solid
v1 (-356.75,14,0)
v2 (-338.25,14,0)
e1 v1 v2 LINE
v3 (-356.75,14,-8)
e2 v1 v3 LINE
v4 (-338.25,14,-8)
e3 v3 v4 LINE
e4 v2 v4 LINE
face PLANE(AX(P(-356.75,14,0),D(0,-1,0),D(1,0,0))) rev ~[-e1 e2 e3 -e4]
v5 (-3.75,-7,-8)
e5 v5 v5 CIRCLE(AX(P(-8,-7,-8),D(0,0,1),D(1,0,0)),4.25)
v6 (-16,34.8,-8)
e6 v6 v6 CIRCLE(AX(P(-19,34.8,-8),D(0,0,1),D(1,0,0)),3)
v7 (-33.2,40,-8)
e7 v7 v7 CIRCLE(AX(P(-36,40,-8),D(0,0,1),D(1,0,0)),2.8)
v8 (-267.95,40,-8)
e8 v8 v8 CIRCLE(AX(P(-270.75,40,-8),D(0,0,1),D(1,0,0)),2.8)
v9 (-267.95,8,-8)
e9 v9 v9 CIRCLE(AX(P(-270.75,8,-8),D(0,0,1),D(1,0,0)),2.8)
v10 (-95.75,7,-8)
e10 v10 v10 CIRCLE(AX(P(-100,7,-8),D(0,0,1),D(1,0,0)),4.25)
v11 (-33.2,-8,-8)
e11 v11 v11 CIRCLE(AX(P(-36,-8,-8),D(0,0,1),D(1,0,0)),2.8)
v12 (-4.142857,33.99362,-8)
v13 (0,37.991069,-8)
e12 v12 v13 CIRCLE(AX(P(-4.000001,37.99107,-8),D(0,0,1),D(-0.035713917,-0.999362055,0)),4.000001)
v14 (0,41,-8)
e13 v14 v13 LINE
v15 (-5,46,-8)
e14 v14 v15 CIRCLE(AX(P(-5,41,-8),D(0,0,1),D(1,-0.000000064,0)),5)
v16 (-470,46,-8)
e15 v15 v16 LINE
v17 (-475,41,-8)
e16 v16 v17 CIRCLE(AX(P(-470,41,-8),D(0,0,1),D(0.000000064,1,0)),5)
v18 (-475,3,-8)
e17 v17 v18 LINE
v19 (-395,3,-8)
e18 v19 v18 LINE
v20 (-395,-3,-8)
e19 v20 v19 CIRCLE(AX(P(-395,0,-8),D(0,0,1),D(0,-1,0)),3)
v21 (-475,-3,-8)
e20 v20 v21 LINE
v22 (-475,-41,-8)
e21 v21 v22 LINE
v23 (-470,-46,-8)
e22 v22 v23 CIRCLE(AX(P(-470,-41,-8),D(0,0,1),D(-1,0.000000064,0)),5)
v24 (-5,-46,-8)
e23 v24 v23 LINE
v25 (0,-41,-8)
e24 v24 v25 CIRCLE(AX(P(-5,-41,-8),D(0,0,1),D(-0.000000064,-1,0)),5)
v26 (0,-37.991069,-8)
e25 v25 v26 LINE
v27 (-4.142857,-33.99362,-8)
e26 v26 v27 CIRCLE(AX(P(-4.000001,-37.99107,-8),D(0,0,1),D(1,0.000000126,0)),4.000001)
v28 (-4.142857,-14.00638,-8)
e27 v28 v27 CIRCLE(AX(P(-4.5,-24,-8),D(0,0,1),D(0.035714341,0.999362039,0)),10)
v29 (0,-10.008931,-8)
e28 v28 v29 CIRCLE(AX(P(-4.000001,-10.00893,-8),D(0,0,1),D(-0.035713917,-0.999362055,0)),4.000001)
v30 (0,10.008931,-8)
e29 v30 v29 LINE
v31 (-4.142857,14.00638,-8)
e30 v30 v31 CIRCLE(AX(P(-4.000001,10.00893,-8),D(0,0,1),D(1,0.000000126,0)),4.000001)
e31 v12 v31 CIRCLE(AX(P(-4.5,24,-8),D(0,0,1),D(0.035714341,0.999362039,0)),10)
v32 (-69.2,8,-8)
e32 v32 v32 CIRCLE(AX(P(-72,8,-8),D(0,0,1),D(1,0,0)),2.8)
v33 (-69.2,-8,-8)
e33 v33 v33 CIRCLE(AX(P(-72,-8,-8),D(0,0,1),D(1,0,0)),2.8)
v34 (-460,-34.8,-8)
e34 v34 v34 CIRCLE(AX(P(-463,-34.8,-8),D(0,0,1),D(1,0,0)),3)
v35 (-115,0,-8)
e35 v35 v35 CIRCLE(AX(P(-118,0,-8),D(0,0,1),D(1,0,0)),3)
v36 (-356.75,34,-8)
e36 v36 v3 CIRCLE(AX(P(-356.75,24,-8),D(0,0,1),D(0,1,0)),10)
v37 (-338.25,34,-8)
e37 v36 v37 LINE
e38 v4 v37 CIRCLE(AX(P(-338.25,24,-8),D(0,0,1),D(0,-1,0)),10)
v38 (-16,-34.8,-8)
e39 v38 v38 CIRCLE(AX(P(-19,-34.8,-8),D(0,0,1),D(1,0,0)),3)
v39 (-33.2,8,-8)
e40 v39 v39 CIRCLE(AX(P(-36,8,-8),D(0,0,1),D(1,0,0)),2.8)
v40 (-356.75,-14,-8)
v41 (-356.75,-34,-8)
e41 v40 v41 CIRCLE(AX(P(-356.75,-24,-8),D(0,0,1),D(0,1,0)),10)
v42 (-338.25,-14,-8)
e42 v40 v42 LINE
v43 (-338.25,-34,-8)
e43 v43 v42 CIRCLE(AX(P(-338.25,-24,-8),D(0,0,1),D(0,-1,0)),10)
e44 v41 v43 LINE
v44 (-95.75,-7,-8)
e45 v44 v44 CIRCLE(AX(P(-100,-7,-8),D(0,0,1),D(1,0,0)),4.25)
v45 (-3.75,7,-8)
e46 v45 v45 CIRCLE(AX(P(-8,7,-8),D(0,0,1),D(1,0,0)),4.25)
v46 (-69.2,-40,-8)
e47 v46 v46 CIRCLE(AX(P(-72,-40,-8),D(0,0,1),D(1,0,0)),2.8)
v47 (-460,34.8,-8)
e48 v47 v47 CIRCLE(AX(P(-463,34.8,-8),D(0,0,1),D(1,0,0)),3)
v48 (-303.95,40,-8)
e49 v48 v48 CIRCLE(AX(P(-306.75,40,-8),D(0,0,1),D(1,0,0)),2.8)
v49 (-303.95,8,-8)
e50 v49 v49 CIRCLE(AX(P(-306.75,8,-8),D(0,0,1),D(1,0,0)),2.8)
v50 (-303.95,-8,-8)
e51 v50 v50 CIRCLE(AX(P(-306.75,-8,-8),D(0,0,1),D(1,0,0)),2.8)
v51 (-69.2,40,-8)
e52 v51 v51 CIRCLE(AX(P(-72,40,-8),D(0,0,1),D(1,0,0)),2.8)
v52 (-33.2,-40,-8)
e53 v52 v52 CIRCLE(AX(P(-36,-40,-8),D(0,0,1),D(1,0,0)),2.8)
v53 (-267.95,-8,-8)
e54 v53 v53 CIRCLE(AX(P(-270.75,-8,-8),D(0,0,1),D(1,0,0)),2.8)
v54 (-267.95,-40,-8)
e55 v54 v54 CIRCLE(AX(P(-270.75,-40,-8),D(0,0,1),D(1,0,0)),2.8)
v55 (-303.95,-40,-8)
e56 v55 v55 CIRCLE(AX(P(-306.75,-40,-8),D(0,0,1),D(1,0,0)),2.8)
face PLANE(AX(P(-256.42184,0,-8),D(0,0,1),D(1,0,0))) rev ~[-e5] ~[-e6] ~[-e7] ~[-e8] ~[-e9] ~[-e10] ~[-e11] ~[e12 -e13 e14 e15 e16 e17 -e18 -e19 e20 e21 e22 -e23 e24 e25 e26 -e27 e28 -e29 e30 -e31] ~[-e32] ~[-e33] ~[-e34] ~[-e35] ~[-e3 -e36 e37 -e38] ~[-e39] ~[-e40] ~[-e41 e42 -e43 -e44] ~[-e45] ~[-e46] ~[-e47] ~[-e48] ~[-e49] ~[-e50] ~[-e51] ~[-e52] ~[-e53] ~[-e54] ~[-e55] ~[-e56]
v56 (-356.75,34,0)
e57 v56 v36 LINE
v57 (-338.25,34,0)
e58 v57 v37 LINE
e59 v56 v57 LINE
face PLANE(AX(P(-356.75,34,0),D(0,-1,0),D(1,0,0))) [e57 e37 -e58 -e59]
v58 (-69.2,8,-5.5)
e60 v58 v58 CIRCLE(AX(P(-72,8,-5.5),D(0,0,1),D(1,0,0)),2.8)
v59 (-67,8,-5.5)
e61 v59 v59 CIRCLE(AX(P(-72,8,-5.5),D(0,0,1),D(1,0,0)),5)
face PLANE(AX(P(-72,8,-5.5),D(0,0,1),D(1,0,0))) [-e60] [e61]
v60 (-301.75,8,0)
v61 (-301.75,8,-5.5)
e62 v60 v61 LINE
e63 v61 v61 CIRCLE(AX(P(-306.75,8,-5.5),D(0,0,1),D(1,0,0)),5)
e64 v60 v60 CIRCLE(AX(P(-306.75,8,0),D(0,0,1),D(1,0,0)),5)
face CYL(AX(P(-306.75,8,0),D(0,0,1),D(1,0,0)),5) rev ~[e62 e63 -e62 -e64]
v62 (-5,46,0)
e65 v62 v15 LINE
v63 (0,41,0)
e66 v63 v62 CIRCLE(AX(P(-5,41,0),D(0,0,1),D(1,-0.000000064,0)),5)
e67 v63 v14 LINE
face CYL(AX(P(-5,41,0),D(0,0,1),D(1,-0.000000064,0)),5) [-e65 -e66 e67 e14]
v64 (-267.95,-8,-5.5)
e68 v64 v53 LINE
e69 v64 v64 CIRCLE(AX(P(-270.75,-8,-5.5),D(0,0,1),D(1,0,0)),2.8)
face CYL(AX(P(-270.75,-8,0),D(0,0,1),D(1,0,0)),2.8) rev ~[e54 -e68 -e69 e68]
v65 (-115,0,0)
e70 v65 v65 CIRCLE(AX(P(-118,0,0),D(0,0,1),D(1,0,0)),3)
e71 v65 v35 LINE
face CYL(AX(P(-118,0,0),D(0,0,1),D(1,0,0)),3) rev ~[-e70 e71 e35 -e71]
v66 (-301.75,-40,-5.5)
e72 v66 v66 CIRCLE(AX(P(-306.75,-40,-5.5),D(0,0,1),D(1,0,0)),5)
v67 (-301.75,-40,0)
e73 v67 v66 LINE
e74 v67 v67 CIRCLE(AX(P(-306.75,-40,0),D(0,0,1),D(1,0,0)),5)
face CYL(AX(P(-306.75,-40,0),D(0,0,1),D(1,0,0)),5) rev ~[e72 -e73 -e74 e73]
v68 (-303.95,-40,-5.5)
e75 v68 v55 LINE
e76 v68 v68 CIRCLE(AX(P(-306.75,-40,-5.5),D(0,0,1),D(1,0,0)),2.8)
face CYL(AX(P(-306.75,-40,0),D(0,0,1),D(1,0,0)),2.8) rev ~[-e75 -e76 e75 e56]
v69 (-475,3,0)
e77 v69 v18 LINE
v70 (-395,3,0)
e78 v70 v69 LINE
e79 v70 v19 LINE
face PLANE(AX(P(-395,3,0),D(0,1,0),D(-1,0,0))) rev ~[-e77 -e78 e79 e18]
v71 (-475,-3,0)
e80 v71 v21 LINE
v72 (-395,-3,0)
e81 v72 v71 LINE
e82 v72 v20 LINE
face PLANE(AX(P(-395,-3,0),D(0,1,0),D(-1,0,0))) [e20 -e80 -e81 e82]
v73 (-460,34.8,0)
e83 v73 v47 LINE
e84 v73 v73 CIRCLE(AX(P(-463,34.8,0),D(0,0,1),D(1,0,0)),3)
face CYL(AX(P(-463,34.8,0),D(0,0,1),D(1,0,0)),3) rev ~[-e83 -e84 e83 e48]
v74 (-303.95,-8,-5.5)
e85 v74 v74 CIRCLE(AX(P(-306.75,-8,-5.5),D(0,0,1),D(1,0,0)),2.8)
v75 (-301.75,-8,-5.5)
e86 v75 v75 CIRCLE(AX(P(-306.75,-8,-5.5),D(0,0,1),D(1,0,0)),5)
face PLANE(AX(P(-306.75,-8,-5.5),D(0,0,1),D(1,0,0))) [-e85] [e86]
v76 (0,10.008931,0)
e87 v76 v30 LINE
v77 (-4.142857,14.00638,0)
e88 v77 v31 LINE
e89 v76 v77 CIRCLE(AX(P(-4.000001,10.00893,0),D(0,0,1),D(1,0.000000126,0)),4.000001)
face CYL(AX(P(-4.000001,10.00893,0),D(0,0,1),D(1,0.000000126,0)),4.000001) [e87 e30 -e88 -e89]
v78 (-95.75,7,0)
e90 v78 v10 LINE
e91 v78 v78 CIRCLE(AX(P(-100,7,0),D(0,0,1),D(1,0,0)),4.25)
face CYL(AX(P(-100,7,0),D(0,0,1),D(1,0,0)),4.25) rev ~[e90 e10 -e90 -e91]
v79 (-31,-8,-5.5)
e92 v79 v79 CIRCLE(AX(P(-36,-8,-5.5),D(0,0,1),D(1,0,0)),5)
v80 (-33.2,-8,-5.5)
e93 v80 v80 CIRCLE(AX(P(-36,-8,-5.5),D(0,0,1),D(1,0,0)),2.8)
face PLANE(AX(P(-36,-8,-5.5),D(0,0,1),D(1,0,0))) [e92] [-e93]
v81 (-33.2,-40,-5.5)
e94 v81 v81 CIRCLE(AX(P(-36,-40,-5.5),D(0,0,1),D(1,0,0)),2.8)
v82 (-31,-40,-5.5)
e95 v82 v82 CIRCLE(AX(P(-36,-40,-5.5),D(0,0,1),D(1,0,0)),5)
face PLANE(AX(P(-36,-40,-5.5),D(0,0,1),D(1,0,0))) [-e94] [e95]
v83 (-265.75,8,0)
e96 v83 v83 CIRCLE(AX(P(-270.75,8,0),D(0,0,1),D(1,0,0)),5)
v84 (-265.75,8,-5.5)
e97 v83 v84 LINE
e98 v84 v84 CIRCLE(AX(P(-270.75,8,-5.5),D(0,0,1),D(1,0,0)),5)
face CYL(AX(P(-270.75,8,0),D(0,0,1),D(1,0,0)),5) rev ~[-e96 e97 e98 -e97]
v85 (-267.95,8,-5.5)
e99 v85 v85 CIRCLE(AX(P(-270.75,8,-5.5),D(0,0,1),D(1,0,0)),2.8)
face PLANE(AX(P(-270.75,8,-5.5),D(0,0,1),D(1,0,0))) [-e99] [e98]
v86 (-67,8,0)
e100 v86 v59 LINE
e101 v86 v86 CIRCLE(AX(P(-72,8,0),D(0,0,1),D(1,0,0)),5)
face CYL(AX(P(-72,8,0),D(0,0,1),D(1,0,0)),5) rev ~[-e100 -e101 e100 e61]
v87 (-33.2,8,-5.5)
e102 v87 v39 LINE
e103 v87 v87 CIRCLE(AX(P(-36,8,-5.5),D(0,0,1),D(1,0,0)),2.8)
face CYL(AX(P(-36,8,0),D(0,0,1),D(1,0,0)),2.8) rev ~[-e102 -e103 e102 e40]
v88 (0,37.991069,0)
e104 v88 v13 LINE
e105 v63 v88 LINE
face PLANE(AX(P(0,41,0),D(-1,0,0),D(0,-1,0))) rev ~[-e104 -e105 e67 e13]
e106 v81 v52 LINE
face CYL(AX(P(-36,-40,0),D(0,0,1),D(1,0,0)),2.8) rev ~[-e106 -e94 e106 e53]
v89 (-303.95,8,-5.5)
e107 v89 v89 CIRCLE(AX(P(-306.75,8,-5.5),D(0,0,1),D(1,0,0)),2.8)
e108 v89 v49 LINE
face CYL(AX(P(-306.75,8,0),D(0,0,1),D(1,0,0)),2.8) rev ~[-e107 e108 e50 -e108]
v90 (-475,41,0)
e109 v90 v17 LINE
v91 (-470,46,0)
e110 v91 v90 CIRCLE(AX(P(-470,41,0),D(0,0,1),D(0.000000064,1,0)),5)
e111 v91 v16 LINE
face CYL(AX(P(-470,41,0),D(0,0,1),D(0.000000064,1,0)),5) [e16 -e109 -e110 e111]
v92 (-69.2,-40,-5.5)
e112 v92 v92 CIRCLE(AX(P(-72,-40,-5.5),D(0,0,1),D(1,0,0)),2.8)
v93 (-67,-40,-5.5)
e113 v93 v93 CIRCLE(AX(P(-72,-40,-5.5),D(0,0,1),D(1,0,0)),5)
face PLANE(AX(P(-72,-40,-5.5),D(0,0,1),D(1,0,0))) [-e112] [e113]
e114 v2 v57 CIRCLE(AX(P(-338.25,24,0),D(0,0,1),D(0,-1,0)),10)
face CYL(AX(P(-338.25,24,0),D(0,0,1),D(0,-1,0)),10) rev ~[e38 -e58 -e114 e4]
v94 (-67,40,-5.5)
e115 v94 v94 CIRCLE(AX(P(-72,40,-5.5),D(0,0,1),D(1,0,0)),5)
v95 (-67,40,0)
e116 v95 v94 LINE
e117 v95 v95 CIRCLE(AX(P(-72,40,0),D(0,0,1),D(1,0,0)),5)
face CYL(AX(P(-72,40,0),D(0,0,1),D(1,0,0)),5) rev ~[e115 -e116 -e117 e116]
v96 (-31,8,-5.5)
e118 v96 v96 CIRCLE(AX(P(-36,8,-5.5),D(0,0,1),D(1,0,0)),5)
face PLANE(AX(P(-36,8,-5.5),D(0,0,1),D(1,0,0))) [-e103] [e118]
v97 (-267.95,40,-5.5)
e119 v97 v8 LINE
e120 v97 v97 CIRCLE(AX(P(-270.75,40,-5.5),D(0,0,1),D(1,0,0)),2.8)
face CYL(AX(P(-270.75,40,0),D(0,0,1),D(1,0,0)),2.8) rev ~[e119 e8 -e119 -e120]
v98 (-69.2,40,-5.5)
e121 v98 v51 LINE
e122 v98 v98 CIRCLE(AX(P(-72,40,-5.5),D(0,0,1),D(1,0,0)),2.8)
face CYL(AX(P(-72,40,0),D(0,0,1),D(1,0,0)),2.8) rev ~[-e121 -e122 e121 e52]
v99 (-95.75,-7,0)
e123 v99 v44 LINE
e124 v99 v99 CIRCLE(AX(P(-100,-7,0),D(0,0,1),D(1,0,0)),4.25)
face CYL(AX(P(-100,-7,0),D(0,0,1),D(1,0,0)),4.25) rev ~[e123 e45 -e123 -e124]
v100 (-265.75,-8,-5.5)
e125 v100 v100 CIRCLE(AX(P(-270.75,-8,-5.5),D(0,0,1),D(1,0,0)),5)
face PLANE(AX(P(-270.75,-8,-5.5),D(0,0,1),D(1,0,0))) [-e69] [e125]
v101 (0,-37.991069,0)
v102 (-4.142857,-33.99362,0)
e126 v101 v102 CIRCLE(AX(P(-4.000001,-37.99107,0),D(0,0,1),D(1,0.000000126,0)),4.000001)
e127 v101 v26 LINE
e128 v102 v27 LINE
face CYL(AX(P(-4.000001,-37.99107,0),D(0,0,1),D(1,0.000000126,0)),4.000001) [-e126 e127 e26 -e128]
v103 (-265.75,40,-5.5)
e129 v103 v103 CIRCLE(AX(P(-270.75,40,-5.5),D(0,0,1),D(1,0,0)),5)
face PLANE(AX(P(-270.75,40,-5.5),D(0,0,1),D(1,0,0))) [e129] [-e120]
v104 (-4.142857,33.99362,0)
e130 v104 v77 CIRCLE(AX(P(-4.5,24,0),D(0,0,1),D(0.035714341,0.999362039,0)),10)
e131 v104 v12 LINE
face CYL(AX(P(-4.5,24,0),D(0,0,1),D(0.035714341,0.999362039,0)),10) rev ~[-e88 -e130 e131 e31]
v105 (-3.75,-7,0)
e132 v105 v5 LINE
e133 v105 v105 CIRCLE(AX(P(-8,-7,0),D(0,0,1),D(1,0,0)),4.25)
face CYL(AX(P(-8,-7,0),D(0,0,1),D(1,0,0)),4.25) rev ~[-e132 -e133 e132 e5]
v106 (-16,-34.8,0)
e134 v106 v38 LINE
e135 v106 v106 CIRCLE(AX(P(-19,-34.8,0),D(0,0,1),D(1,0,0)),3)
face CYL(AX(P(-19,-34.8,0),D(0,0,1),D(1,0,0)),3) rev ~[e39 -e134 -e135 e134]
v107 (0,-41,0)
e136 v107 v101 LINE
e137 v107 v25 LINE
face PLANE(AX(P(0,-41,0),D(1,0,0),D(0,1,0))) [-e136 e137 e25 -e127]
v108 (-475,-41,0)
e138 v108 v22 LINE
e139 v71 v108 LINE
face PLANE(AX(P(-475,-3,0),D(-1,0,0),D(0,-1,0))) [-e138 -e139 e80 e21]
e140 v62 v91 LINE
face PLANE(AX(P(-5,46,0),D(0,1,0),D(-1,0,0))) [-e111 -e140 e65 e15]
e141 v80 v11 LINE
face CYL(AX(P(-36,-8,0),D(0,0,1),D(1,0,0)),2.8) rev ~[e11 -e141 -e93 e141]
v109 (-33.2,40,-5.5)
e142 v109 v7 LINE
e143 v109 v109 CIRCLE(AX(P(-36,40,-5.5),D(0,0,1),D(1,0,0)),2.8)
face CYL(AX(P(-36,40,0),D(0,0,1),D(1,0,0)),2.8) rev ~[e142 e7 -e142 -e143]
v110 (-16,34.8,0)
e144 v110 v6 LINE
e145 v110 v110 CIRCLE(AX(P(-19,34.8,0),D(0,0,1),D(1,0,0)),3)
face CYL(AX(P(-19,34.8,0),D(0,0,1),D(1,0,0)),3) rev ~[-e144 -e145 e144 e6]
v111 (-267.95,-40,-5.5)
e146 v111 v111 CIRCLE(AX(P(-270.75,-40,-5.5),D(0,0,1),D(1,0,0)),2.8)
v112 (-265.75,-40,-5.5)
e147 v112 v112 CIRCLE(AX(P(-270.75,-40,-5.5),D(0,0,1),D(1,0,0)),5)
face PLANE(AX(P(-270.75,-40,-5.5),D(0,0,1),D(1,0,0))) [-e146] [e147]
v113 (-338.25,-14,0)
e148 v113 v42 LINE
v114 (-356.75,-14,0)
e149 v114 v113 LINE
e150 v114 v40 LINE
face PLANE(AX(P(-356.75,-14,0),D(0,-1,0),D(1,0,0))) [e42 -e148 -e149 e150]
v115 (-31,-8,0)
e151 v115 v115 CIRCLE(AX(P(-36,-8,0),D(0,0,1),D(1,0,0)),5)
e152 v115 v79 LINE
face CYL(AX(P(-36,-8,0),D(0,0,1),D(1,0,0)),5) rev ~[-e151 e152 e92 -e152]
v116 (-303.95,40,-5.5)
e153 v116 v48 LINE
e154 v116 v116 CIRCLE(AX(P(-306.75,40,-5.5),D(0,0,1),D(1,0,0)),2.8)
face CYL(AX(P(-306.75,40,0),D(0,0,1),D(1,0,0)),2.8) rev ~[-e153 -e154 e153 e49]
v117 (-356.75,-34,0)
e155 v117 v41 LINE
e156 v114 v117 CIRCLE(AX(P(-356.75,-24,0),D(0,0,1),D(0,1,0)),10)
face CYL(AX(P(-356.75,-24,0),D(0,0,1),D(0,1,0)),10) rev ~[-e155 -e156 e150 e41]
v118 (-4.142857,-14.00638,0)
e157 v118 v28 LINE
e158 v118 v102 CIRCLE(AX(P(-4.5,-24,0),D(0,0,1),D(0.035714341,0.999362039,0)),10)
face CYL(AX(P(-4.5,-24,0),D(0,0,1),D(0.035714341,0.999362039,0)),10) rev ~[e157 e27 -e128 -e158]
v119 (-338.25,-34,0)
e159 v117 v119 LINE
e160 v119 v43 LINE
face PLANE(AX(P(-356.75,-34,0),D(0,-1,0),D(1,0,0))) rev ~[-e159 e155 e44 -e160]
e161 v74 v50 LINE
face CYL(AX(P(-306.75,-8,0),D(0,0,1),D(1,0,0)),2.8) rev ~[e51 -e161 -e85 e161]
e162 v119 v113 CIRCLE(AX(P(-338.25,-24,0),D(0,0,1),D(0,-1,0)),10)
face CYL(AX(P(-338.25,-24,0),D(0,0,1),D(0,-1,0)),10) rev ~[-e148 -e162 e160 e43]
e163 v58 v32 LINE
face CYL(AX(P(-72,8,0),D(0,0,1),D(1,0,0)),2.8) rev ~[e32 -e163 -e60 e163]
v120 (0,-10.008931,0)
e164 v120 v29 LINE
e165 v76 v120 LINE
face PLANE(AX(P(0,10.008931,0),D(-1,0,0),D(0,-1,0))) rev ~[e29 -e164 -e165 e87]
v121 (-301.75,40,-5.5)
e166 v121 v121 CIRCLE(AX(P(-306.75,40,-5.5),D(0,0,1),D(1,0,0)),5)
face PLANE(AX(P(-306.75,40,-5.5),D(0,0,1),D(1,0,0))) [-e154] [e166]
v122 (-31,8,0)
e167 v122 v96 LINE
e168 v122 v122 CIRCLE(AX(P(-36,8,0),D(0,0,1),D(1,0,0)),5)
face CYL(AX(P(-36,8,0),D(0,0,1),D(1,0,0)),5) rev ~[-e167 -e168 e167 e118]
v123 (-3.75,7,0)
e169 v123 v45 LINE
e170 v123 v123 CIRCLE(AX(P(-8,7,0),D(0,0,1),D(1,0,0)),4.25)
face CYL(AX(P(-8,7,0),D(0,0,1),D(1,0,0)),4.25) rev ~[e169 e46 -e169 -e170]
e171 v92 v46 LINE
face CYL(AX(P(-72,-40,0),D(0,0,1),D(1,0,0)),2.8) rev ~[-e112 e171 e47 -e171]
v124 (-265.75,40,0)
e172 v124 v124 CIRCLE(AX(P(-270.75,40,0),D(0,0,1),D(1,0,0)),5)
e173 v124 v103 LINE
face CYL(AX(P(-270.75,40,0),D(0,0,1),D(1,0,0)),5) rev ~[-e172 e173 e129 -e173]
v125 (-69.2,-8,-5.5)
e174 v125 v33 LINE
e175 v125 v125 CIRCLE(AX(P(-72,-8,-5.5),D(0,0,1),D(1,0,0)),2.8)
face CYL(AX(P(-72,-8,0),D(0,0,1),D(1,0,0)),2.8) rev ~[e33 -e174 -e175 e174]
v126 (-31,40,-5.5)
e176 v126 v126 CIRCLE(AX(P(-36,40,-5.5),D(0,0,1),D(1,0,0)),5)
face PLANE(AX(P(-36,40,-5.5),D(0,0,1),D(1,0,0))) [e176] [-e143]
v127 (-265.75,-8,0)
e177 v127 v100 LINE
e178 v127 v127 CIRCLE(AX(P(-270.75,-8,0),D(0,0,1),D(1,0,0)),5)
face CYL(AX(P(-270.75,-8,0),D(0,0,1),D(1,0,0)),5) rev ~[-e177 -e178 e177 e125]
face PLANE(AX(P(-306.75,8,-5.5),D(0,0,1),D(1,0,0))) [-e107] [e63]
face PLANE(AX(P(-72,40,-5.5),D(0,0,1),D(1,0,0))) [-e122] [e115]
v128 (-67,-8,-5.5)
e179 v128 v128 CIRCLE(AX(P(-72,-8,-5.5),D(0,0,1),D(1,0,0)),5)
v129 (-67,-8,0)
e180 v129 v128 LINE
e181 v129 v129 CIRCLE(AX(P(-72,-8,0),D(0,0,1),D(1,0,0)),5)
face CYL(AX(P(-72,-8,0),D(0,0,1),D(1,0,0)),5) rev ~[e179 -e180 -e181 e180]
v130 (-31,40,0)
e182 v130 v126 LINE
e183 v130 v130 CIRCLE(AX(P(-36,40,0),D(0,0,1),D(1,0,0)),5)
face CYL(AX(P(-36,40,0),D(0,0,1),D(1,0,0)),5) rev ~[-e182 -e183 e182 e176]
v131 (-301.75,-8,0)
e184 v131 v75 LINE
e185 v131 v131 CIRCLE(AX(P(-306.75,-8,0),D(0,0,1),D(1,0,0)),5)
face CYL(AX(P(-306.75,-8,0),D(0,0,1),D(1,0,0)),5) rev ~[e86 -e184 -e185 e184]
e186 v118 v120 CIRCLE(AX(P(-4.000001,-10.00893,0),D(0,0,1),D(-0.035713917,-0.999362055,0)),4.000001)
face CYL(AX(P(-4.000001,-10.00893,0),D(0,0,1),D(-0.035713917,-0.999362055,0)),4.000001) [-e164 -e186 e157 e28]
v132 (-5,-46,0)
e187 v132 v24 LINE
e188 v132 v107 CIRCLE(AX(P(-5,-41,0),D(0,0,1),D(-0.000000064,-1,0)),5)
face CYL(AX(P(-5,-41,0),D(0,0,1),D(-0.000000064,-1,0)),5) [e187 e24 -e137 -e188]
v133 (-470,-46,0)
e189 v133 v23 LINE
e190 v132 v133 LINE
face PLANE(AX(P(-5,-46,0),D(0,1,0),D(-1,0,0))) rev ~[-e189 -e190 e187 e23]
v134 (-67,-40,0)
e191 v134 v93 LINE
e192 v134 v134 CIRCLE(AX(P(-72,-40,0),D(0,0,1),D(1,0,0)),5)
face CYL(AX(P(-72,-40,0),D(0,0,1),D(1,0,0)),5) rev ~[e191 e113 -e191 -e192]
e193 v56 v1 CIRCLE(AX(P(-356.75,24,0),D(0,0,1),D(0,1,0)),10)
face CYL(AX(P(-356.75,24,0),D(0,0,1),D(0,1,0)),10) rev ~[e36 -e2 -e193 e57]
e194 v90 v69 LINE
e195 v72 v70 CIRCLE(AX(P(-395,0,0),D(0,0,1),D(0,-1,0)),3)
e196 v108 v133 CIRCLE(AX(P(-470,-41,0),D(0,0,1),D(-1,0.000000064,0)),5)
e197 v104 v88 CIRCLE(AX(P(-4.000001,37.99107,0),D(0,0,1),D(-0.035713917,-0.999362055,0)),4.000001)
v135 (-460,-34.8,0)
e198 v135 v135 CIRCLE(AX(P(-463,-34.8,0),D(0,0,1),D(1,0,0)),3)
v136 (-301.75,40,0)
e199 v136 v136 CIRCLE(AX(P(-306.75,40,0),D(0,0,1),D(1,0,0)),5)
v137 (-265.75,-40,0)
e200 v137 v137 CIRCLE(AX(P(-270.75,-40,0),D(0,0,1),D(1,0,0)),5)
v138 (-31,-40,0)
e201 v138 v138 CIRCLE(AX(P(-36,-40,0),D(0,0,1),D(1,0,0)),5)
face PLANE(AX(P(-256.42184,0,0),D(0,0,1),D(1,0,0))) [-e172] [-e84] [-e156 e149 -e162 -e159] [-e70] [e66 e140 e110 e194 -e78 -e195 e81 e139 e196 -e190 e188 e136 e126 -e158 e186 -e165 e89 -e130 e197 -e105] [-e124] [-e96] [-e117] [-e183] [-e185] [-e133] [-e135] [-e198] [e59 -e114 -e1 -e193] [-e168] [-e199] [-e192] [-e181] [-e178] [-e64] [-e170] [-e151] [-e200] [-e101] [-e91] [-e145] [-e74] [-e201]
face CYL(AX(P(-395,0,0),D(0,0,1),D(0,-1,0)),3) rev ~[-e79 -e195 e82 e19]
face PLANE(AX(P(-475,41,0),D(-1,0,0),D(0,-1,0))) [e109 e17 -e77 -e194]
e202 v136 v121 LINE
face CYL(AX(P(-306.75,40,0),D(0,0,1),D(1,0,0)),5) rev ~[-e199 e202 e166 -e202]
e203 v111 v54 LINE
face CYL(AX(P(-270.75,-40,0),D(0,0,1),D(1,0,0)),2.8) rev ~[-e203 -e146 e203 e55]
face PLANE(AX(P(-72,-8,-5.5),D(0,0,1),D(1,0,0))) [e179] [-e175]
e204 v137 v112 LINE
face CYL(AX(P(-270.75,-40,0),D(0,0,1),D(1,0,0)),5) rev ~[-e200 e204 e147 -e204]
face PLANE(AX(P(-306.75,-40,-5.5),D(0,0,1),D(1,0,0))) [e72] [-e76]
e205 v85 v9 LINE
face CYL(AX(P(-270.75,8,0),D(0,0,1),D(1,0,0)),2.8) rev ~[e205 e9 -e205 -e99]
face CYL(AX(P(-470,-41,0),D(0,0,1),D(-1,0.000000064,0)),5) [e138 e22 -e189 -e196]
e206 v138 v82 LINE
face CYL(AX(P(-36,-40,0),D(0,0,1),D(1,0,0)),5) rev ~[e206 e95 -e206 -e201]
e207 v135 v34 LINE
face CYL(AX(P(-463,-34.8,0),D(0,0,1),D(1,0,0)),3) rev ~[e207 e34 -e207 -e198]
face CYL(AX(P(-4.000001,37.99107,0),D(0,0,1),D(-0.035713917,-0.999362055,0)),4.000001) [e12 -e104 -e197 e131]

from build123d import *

# Parameters (mm, degrees)
SKETCH_R     = 2.8
SKETCH_R_2   = 4.25
SKETCH_R_3   = 3
PAD_DEPTH    = 8
SKETCH001_R  = 5
POCKET_DEPTH = 5.5


with BuildPart() as part:
    # Sketch → Pad (new body)
    with BuildSketch(Plane.XY):
        with BuildLine():
            Line((-5, 46), (-470, 46))
            ThreePointArc((-470, 46), (-473.535534, 44.535534), (-475, 41))
            Line((-475, 41), (-475, 3))
            Line((-395, 3), (-475, 3))
            ThreePointArc((-395, -3), (-392, 0), (-395, 3))
            Line((-395, -3), (-475, -3))
            Line((-475, -3), (-475, -41))
            ThreePointArc((-475, -41), (-473.535534, -44.535534), (-470, -46))
            Line((-5, -46), (-470, -46))
            ThreePointArc((-5, -46), (-1.464466, -44.535534), (0, -41))
            Line((0, -41), (0, -37.991069))
            ThreePointArc((0, -37.991069), (-1.22254, -35.112577), (-4.142857, -33.99362))
            ThreePointArc((-4.142857, -14.00638), (-14.5, -24), (-4.142857, -33.99362))
            ThreePointArc((-4.142857, -14.00638), (-1.22254, -12.887423), (0, -10.008931))
            Line((0, 10.008931), (0, -10.008931))
            ThreePointArc((0, 10.008931), (-1.22254, 12.887423), (-4.142857, 14.00638))
            ThreePointArc((-4.142857, 33.99362), (-14.5, 24), (-4.142857, 14.00638))
            ThreePointArc((-4.142857, 33.99362), (-1.22254, 35.112577), (0, 37.991069))
            Line((0, 41), (0, 37.991069))
            ThreePointArc((0, 41), (-1.464466, 44.535534), (-5, 46))
        make_face()
        with Locations((-306.75, 40)):
            Circle(SKETCH_R, mode=Mode.SUBTRACT)
        with Locations((-270.75, 40)):
            Circle(SKETCH_R, mode=Mode.SUBTRACT)
        with Locations((-270.75, 8)):
            Circle(SKETCH_R, mode=Mode.SUBTRACT)
        with Locations((-306.75, 8)):
            Circle(SKETCH_R, mode=Mode.SUBTRACT)
        with Locations((-306.75, -8)):
            Circle(SKETCH_R, mode=Mode.SUBTRACT)
        with Locations((-270.75, -8)):
            Circle(SKETCH_R, mode=Mode.SUBTRACT)
        with Locations((-306.75, -40)):
            Circle(SKETCH_R, mode=Mode.SUBTRACT)
        with Locations((-270.75, -40)):
            Circle(SKETCH_R, mode=Mode.SUBTRACT)
        with Locations((-72, -40)):
            Circle(SKETCH_R, mode=Mode.SUBTRACT)
        with Locations((-36, -40)):
            Circle(SKETCH_R, mode=Mode.SUBTRACT)
        with Locations((-36, -8)):
            Circle(SKETCH_R, mode=Mode.SUBTRACT)
        with Locations((-72, -8)):
            Circle(SKETCH_R, mode=Mode.SUBTRACT)
        with Locations((-36, 8)):
            Circle(SKETCH_R, mode=Mode.SUBTRACT)
        with Locations((-36, 40)):
            Circle(SKETCH_R, mode=Mode.SUBTRACT)
        with Locations((-72, 40)):
            Circle(SKETCH_R, mode=Mode.SUBTRACT)
        with Locations((-72, 8)):
            Circle(SKETCH_R, mode=Mode.SUBTRACT)
        with Locations((-100, 7)):
            Circle(SKETCH_R_2, mode=Mode.SUBTRACT)
        with Locations((-100, -7)):
            Circle(SKETCH_R_2, mode=Mode.SUBTRACT)
        with Locations((-8, 7)):
            Circle(SKETCH_R_2, mode=Mode.SUBTRACT)
        with Locations((-8, -7)):
            Circle(SKETCH_R_2, mode=Mode.SUBTRACT)
        with Locations((-19, 34.8)):
            Circle(SKETCH_R_3, mode=Mode.SUBTRACT)
        with Locations((-463, 34.8)):
            Circle(SKETCH_R_3, mode=Mode.SUBTRACT)
        with Locations((-463, -34.8)):
            Circle(SKETCH_R_3, mode=Mode.SUBTRACT)
        with Locations((-19, -34.8)):
            Circle(SKETCH_R_3, mode=Mode.SUBTRACT)
        with Locations((-118, 0)):
            Circle(SKETCH_R_3, mode=Mode.SUBTRACT)
        with BuildLine():
            ThreePointArc((-356.75, 34), (-366.75, 24), (-356.75, 14))
            Line((-356.75, 14), (-338.25, 14))
            ThreePointArc((-338.25, 14), (-328.25, 24), (-338.25, 34))
            Line((-356.75, 34), (-338.25, 34))
        make_face(mode=Mode.SUBTRACT)
        with BuildLine():
            ThreePointArc((-356.75, -14), (-366.75, -24), (-356.75, -34))
            Line((-356.75, -34), (-338.25, -34))
            ThreePointArc((-338.25, -34), (-328.25, -24), (-338.25, -14))
            Line((-356.75, -14), (-338.25, -14))
        make_face(mode=Mode.SUBTRACT)
    extrude(amount=-PAD_DEPTH)

    # Sketch001 → Pocket (cut)
    with BuildSketch(Plane.XY):
        with Locations((-306.75, -40)):
            Circle(SKETCH001_R)
        with Locations((-36, 8)):
            Circle(SKETCH001_R)
        with Locations((-36, 40)):
            Circle(SKETCH001_R)
        with Locations((-36, -40)):
            Circle(SKETCH001_R)
        with Locations((-270.75, -8)):
            Circle(SKETCH001_R)
        with Locations((-72, -40)):
            Circle(SKETCH001_R)
        with Locations((-306.75, 40)):
            Circle(SKETCH001_R)
        with Locations((-72, -8)):
            Circle(SKETCH001_R)
        with Locations((-270.75, 40)):
            Circle(SKETCH001_R)
        with Locations((-270.75, 8)):
            Circle(SKETCH001_R)
        with Locations((-72, 8)):
            Circle(SKETCH001_R)
        with Locations((-270.75, -40)):
            Circle(SKETCH001_R)
        with Locations((-72, 40)):
            Circle(SKETCH001_R)
        with Locations((-306.75, -8)):
            Circle(SKETCH001_R)
        with Locations((-36, -8)):
            Circle(SKETCH001_R)
        with Locations((-306.75, 8)):
            Circle(SKETCH001_R)
    extrude(amount=-POCKET_DEPTH, mode=Mode.SUBTRACT)


solid = part.part
